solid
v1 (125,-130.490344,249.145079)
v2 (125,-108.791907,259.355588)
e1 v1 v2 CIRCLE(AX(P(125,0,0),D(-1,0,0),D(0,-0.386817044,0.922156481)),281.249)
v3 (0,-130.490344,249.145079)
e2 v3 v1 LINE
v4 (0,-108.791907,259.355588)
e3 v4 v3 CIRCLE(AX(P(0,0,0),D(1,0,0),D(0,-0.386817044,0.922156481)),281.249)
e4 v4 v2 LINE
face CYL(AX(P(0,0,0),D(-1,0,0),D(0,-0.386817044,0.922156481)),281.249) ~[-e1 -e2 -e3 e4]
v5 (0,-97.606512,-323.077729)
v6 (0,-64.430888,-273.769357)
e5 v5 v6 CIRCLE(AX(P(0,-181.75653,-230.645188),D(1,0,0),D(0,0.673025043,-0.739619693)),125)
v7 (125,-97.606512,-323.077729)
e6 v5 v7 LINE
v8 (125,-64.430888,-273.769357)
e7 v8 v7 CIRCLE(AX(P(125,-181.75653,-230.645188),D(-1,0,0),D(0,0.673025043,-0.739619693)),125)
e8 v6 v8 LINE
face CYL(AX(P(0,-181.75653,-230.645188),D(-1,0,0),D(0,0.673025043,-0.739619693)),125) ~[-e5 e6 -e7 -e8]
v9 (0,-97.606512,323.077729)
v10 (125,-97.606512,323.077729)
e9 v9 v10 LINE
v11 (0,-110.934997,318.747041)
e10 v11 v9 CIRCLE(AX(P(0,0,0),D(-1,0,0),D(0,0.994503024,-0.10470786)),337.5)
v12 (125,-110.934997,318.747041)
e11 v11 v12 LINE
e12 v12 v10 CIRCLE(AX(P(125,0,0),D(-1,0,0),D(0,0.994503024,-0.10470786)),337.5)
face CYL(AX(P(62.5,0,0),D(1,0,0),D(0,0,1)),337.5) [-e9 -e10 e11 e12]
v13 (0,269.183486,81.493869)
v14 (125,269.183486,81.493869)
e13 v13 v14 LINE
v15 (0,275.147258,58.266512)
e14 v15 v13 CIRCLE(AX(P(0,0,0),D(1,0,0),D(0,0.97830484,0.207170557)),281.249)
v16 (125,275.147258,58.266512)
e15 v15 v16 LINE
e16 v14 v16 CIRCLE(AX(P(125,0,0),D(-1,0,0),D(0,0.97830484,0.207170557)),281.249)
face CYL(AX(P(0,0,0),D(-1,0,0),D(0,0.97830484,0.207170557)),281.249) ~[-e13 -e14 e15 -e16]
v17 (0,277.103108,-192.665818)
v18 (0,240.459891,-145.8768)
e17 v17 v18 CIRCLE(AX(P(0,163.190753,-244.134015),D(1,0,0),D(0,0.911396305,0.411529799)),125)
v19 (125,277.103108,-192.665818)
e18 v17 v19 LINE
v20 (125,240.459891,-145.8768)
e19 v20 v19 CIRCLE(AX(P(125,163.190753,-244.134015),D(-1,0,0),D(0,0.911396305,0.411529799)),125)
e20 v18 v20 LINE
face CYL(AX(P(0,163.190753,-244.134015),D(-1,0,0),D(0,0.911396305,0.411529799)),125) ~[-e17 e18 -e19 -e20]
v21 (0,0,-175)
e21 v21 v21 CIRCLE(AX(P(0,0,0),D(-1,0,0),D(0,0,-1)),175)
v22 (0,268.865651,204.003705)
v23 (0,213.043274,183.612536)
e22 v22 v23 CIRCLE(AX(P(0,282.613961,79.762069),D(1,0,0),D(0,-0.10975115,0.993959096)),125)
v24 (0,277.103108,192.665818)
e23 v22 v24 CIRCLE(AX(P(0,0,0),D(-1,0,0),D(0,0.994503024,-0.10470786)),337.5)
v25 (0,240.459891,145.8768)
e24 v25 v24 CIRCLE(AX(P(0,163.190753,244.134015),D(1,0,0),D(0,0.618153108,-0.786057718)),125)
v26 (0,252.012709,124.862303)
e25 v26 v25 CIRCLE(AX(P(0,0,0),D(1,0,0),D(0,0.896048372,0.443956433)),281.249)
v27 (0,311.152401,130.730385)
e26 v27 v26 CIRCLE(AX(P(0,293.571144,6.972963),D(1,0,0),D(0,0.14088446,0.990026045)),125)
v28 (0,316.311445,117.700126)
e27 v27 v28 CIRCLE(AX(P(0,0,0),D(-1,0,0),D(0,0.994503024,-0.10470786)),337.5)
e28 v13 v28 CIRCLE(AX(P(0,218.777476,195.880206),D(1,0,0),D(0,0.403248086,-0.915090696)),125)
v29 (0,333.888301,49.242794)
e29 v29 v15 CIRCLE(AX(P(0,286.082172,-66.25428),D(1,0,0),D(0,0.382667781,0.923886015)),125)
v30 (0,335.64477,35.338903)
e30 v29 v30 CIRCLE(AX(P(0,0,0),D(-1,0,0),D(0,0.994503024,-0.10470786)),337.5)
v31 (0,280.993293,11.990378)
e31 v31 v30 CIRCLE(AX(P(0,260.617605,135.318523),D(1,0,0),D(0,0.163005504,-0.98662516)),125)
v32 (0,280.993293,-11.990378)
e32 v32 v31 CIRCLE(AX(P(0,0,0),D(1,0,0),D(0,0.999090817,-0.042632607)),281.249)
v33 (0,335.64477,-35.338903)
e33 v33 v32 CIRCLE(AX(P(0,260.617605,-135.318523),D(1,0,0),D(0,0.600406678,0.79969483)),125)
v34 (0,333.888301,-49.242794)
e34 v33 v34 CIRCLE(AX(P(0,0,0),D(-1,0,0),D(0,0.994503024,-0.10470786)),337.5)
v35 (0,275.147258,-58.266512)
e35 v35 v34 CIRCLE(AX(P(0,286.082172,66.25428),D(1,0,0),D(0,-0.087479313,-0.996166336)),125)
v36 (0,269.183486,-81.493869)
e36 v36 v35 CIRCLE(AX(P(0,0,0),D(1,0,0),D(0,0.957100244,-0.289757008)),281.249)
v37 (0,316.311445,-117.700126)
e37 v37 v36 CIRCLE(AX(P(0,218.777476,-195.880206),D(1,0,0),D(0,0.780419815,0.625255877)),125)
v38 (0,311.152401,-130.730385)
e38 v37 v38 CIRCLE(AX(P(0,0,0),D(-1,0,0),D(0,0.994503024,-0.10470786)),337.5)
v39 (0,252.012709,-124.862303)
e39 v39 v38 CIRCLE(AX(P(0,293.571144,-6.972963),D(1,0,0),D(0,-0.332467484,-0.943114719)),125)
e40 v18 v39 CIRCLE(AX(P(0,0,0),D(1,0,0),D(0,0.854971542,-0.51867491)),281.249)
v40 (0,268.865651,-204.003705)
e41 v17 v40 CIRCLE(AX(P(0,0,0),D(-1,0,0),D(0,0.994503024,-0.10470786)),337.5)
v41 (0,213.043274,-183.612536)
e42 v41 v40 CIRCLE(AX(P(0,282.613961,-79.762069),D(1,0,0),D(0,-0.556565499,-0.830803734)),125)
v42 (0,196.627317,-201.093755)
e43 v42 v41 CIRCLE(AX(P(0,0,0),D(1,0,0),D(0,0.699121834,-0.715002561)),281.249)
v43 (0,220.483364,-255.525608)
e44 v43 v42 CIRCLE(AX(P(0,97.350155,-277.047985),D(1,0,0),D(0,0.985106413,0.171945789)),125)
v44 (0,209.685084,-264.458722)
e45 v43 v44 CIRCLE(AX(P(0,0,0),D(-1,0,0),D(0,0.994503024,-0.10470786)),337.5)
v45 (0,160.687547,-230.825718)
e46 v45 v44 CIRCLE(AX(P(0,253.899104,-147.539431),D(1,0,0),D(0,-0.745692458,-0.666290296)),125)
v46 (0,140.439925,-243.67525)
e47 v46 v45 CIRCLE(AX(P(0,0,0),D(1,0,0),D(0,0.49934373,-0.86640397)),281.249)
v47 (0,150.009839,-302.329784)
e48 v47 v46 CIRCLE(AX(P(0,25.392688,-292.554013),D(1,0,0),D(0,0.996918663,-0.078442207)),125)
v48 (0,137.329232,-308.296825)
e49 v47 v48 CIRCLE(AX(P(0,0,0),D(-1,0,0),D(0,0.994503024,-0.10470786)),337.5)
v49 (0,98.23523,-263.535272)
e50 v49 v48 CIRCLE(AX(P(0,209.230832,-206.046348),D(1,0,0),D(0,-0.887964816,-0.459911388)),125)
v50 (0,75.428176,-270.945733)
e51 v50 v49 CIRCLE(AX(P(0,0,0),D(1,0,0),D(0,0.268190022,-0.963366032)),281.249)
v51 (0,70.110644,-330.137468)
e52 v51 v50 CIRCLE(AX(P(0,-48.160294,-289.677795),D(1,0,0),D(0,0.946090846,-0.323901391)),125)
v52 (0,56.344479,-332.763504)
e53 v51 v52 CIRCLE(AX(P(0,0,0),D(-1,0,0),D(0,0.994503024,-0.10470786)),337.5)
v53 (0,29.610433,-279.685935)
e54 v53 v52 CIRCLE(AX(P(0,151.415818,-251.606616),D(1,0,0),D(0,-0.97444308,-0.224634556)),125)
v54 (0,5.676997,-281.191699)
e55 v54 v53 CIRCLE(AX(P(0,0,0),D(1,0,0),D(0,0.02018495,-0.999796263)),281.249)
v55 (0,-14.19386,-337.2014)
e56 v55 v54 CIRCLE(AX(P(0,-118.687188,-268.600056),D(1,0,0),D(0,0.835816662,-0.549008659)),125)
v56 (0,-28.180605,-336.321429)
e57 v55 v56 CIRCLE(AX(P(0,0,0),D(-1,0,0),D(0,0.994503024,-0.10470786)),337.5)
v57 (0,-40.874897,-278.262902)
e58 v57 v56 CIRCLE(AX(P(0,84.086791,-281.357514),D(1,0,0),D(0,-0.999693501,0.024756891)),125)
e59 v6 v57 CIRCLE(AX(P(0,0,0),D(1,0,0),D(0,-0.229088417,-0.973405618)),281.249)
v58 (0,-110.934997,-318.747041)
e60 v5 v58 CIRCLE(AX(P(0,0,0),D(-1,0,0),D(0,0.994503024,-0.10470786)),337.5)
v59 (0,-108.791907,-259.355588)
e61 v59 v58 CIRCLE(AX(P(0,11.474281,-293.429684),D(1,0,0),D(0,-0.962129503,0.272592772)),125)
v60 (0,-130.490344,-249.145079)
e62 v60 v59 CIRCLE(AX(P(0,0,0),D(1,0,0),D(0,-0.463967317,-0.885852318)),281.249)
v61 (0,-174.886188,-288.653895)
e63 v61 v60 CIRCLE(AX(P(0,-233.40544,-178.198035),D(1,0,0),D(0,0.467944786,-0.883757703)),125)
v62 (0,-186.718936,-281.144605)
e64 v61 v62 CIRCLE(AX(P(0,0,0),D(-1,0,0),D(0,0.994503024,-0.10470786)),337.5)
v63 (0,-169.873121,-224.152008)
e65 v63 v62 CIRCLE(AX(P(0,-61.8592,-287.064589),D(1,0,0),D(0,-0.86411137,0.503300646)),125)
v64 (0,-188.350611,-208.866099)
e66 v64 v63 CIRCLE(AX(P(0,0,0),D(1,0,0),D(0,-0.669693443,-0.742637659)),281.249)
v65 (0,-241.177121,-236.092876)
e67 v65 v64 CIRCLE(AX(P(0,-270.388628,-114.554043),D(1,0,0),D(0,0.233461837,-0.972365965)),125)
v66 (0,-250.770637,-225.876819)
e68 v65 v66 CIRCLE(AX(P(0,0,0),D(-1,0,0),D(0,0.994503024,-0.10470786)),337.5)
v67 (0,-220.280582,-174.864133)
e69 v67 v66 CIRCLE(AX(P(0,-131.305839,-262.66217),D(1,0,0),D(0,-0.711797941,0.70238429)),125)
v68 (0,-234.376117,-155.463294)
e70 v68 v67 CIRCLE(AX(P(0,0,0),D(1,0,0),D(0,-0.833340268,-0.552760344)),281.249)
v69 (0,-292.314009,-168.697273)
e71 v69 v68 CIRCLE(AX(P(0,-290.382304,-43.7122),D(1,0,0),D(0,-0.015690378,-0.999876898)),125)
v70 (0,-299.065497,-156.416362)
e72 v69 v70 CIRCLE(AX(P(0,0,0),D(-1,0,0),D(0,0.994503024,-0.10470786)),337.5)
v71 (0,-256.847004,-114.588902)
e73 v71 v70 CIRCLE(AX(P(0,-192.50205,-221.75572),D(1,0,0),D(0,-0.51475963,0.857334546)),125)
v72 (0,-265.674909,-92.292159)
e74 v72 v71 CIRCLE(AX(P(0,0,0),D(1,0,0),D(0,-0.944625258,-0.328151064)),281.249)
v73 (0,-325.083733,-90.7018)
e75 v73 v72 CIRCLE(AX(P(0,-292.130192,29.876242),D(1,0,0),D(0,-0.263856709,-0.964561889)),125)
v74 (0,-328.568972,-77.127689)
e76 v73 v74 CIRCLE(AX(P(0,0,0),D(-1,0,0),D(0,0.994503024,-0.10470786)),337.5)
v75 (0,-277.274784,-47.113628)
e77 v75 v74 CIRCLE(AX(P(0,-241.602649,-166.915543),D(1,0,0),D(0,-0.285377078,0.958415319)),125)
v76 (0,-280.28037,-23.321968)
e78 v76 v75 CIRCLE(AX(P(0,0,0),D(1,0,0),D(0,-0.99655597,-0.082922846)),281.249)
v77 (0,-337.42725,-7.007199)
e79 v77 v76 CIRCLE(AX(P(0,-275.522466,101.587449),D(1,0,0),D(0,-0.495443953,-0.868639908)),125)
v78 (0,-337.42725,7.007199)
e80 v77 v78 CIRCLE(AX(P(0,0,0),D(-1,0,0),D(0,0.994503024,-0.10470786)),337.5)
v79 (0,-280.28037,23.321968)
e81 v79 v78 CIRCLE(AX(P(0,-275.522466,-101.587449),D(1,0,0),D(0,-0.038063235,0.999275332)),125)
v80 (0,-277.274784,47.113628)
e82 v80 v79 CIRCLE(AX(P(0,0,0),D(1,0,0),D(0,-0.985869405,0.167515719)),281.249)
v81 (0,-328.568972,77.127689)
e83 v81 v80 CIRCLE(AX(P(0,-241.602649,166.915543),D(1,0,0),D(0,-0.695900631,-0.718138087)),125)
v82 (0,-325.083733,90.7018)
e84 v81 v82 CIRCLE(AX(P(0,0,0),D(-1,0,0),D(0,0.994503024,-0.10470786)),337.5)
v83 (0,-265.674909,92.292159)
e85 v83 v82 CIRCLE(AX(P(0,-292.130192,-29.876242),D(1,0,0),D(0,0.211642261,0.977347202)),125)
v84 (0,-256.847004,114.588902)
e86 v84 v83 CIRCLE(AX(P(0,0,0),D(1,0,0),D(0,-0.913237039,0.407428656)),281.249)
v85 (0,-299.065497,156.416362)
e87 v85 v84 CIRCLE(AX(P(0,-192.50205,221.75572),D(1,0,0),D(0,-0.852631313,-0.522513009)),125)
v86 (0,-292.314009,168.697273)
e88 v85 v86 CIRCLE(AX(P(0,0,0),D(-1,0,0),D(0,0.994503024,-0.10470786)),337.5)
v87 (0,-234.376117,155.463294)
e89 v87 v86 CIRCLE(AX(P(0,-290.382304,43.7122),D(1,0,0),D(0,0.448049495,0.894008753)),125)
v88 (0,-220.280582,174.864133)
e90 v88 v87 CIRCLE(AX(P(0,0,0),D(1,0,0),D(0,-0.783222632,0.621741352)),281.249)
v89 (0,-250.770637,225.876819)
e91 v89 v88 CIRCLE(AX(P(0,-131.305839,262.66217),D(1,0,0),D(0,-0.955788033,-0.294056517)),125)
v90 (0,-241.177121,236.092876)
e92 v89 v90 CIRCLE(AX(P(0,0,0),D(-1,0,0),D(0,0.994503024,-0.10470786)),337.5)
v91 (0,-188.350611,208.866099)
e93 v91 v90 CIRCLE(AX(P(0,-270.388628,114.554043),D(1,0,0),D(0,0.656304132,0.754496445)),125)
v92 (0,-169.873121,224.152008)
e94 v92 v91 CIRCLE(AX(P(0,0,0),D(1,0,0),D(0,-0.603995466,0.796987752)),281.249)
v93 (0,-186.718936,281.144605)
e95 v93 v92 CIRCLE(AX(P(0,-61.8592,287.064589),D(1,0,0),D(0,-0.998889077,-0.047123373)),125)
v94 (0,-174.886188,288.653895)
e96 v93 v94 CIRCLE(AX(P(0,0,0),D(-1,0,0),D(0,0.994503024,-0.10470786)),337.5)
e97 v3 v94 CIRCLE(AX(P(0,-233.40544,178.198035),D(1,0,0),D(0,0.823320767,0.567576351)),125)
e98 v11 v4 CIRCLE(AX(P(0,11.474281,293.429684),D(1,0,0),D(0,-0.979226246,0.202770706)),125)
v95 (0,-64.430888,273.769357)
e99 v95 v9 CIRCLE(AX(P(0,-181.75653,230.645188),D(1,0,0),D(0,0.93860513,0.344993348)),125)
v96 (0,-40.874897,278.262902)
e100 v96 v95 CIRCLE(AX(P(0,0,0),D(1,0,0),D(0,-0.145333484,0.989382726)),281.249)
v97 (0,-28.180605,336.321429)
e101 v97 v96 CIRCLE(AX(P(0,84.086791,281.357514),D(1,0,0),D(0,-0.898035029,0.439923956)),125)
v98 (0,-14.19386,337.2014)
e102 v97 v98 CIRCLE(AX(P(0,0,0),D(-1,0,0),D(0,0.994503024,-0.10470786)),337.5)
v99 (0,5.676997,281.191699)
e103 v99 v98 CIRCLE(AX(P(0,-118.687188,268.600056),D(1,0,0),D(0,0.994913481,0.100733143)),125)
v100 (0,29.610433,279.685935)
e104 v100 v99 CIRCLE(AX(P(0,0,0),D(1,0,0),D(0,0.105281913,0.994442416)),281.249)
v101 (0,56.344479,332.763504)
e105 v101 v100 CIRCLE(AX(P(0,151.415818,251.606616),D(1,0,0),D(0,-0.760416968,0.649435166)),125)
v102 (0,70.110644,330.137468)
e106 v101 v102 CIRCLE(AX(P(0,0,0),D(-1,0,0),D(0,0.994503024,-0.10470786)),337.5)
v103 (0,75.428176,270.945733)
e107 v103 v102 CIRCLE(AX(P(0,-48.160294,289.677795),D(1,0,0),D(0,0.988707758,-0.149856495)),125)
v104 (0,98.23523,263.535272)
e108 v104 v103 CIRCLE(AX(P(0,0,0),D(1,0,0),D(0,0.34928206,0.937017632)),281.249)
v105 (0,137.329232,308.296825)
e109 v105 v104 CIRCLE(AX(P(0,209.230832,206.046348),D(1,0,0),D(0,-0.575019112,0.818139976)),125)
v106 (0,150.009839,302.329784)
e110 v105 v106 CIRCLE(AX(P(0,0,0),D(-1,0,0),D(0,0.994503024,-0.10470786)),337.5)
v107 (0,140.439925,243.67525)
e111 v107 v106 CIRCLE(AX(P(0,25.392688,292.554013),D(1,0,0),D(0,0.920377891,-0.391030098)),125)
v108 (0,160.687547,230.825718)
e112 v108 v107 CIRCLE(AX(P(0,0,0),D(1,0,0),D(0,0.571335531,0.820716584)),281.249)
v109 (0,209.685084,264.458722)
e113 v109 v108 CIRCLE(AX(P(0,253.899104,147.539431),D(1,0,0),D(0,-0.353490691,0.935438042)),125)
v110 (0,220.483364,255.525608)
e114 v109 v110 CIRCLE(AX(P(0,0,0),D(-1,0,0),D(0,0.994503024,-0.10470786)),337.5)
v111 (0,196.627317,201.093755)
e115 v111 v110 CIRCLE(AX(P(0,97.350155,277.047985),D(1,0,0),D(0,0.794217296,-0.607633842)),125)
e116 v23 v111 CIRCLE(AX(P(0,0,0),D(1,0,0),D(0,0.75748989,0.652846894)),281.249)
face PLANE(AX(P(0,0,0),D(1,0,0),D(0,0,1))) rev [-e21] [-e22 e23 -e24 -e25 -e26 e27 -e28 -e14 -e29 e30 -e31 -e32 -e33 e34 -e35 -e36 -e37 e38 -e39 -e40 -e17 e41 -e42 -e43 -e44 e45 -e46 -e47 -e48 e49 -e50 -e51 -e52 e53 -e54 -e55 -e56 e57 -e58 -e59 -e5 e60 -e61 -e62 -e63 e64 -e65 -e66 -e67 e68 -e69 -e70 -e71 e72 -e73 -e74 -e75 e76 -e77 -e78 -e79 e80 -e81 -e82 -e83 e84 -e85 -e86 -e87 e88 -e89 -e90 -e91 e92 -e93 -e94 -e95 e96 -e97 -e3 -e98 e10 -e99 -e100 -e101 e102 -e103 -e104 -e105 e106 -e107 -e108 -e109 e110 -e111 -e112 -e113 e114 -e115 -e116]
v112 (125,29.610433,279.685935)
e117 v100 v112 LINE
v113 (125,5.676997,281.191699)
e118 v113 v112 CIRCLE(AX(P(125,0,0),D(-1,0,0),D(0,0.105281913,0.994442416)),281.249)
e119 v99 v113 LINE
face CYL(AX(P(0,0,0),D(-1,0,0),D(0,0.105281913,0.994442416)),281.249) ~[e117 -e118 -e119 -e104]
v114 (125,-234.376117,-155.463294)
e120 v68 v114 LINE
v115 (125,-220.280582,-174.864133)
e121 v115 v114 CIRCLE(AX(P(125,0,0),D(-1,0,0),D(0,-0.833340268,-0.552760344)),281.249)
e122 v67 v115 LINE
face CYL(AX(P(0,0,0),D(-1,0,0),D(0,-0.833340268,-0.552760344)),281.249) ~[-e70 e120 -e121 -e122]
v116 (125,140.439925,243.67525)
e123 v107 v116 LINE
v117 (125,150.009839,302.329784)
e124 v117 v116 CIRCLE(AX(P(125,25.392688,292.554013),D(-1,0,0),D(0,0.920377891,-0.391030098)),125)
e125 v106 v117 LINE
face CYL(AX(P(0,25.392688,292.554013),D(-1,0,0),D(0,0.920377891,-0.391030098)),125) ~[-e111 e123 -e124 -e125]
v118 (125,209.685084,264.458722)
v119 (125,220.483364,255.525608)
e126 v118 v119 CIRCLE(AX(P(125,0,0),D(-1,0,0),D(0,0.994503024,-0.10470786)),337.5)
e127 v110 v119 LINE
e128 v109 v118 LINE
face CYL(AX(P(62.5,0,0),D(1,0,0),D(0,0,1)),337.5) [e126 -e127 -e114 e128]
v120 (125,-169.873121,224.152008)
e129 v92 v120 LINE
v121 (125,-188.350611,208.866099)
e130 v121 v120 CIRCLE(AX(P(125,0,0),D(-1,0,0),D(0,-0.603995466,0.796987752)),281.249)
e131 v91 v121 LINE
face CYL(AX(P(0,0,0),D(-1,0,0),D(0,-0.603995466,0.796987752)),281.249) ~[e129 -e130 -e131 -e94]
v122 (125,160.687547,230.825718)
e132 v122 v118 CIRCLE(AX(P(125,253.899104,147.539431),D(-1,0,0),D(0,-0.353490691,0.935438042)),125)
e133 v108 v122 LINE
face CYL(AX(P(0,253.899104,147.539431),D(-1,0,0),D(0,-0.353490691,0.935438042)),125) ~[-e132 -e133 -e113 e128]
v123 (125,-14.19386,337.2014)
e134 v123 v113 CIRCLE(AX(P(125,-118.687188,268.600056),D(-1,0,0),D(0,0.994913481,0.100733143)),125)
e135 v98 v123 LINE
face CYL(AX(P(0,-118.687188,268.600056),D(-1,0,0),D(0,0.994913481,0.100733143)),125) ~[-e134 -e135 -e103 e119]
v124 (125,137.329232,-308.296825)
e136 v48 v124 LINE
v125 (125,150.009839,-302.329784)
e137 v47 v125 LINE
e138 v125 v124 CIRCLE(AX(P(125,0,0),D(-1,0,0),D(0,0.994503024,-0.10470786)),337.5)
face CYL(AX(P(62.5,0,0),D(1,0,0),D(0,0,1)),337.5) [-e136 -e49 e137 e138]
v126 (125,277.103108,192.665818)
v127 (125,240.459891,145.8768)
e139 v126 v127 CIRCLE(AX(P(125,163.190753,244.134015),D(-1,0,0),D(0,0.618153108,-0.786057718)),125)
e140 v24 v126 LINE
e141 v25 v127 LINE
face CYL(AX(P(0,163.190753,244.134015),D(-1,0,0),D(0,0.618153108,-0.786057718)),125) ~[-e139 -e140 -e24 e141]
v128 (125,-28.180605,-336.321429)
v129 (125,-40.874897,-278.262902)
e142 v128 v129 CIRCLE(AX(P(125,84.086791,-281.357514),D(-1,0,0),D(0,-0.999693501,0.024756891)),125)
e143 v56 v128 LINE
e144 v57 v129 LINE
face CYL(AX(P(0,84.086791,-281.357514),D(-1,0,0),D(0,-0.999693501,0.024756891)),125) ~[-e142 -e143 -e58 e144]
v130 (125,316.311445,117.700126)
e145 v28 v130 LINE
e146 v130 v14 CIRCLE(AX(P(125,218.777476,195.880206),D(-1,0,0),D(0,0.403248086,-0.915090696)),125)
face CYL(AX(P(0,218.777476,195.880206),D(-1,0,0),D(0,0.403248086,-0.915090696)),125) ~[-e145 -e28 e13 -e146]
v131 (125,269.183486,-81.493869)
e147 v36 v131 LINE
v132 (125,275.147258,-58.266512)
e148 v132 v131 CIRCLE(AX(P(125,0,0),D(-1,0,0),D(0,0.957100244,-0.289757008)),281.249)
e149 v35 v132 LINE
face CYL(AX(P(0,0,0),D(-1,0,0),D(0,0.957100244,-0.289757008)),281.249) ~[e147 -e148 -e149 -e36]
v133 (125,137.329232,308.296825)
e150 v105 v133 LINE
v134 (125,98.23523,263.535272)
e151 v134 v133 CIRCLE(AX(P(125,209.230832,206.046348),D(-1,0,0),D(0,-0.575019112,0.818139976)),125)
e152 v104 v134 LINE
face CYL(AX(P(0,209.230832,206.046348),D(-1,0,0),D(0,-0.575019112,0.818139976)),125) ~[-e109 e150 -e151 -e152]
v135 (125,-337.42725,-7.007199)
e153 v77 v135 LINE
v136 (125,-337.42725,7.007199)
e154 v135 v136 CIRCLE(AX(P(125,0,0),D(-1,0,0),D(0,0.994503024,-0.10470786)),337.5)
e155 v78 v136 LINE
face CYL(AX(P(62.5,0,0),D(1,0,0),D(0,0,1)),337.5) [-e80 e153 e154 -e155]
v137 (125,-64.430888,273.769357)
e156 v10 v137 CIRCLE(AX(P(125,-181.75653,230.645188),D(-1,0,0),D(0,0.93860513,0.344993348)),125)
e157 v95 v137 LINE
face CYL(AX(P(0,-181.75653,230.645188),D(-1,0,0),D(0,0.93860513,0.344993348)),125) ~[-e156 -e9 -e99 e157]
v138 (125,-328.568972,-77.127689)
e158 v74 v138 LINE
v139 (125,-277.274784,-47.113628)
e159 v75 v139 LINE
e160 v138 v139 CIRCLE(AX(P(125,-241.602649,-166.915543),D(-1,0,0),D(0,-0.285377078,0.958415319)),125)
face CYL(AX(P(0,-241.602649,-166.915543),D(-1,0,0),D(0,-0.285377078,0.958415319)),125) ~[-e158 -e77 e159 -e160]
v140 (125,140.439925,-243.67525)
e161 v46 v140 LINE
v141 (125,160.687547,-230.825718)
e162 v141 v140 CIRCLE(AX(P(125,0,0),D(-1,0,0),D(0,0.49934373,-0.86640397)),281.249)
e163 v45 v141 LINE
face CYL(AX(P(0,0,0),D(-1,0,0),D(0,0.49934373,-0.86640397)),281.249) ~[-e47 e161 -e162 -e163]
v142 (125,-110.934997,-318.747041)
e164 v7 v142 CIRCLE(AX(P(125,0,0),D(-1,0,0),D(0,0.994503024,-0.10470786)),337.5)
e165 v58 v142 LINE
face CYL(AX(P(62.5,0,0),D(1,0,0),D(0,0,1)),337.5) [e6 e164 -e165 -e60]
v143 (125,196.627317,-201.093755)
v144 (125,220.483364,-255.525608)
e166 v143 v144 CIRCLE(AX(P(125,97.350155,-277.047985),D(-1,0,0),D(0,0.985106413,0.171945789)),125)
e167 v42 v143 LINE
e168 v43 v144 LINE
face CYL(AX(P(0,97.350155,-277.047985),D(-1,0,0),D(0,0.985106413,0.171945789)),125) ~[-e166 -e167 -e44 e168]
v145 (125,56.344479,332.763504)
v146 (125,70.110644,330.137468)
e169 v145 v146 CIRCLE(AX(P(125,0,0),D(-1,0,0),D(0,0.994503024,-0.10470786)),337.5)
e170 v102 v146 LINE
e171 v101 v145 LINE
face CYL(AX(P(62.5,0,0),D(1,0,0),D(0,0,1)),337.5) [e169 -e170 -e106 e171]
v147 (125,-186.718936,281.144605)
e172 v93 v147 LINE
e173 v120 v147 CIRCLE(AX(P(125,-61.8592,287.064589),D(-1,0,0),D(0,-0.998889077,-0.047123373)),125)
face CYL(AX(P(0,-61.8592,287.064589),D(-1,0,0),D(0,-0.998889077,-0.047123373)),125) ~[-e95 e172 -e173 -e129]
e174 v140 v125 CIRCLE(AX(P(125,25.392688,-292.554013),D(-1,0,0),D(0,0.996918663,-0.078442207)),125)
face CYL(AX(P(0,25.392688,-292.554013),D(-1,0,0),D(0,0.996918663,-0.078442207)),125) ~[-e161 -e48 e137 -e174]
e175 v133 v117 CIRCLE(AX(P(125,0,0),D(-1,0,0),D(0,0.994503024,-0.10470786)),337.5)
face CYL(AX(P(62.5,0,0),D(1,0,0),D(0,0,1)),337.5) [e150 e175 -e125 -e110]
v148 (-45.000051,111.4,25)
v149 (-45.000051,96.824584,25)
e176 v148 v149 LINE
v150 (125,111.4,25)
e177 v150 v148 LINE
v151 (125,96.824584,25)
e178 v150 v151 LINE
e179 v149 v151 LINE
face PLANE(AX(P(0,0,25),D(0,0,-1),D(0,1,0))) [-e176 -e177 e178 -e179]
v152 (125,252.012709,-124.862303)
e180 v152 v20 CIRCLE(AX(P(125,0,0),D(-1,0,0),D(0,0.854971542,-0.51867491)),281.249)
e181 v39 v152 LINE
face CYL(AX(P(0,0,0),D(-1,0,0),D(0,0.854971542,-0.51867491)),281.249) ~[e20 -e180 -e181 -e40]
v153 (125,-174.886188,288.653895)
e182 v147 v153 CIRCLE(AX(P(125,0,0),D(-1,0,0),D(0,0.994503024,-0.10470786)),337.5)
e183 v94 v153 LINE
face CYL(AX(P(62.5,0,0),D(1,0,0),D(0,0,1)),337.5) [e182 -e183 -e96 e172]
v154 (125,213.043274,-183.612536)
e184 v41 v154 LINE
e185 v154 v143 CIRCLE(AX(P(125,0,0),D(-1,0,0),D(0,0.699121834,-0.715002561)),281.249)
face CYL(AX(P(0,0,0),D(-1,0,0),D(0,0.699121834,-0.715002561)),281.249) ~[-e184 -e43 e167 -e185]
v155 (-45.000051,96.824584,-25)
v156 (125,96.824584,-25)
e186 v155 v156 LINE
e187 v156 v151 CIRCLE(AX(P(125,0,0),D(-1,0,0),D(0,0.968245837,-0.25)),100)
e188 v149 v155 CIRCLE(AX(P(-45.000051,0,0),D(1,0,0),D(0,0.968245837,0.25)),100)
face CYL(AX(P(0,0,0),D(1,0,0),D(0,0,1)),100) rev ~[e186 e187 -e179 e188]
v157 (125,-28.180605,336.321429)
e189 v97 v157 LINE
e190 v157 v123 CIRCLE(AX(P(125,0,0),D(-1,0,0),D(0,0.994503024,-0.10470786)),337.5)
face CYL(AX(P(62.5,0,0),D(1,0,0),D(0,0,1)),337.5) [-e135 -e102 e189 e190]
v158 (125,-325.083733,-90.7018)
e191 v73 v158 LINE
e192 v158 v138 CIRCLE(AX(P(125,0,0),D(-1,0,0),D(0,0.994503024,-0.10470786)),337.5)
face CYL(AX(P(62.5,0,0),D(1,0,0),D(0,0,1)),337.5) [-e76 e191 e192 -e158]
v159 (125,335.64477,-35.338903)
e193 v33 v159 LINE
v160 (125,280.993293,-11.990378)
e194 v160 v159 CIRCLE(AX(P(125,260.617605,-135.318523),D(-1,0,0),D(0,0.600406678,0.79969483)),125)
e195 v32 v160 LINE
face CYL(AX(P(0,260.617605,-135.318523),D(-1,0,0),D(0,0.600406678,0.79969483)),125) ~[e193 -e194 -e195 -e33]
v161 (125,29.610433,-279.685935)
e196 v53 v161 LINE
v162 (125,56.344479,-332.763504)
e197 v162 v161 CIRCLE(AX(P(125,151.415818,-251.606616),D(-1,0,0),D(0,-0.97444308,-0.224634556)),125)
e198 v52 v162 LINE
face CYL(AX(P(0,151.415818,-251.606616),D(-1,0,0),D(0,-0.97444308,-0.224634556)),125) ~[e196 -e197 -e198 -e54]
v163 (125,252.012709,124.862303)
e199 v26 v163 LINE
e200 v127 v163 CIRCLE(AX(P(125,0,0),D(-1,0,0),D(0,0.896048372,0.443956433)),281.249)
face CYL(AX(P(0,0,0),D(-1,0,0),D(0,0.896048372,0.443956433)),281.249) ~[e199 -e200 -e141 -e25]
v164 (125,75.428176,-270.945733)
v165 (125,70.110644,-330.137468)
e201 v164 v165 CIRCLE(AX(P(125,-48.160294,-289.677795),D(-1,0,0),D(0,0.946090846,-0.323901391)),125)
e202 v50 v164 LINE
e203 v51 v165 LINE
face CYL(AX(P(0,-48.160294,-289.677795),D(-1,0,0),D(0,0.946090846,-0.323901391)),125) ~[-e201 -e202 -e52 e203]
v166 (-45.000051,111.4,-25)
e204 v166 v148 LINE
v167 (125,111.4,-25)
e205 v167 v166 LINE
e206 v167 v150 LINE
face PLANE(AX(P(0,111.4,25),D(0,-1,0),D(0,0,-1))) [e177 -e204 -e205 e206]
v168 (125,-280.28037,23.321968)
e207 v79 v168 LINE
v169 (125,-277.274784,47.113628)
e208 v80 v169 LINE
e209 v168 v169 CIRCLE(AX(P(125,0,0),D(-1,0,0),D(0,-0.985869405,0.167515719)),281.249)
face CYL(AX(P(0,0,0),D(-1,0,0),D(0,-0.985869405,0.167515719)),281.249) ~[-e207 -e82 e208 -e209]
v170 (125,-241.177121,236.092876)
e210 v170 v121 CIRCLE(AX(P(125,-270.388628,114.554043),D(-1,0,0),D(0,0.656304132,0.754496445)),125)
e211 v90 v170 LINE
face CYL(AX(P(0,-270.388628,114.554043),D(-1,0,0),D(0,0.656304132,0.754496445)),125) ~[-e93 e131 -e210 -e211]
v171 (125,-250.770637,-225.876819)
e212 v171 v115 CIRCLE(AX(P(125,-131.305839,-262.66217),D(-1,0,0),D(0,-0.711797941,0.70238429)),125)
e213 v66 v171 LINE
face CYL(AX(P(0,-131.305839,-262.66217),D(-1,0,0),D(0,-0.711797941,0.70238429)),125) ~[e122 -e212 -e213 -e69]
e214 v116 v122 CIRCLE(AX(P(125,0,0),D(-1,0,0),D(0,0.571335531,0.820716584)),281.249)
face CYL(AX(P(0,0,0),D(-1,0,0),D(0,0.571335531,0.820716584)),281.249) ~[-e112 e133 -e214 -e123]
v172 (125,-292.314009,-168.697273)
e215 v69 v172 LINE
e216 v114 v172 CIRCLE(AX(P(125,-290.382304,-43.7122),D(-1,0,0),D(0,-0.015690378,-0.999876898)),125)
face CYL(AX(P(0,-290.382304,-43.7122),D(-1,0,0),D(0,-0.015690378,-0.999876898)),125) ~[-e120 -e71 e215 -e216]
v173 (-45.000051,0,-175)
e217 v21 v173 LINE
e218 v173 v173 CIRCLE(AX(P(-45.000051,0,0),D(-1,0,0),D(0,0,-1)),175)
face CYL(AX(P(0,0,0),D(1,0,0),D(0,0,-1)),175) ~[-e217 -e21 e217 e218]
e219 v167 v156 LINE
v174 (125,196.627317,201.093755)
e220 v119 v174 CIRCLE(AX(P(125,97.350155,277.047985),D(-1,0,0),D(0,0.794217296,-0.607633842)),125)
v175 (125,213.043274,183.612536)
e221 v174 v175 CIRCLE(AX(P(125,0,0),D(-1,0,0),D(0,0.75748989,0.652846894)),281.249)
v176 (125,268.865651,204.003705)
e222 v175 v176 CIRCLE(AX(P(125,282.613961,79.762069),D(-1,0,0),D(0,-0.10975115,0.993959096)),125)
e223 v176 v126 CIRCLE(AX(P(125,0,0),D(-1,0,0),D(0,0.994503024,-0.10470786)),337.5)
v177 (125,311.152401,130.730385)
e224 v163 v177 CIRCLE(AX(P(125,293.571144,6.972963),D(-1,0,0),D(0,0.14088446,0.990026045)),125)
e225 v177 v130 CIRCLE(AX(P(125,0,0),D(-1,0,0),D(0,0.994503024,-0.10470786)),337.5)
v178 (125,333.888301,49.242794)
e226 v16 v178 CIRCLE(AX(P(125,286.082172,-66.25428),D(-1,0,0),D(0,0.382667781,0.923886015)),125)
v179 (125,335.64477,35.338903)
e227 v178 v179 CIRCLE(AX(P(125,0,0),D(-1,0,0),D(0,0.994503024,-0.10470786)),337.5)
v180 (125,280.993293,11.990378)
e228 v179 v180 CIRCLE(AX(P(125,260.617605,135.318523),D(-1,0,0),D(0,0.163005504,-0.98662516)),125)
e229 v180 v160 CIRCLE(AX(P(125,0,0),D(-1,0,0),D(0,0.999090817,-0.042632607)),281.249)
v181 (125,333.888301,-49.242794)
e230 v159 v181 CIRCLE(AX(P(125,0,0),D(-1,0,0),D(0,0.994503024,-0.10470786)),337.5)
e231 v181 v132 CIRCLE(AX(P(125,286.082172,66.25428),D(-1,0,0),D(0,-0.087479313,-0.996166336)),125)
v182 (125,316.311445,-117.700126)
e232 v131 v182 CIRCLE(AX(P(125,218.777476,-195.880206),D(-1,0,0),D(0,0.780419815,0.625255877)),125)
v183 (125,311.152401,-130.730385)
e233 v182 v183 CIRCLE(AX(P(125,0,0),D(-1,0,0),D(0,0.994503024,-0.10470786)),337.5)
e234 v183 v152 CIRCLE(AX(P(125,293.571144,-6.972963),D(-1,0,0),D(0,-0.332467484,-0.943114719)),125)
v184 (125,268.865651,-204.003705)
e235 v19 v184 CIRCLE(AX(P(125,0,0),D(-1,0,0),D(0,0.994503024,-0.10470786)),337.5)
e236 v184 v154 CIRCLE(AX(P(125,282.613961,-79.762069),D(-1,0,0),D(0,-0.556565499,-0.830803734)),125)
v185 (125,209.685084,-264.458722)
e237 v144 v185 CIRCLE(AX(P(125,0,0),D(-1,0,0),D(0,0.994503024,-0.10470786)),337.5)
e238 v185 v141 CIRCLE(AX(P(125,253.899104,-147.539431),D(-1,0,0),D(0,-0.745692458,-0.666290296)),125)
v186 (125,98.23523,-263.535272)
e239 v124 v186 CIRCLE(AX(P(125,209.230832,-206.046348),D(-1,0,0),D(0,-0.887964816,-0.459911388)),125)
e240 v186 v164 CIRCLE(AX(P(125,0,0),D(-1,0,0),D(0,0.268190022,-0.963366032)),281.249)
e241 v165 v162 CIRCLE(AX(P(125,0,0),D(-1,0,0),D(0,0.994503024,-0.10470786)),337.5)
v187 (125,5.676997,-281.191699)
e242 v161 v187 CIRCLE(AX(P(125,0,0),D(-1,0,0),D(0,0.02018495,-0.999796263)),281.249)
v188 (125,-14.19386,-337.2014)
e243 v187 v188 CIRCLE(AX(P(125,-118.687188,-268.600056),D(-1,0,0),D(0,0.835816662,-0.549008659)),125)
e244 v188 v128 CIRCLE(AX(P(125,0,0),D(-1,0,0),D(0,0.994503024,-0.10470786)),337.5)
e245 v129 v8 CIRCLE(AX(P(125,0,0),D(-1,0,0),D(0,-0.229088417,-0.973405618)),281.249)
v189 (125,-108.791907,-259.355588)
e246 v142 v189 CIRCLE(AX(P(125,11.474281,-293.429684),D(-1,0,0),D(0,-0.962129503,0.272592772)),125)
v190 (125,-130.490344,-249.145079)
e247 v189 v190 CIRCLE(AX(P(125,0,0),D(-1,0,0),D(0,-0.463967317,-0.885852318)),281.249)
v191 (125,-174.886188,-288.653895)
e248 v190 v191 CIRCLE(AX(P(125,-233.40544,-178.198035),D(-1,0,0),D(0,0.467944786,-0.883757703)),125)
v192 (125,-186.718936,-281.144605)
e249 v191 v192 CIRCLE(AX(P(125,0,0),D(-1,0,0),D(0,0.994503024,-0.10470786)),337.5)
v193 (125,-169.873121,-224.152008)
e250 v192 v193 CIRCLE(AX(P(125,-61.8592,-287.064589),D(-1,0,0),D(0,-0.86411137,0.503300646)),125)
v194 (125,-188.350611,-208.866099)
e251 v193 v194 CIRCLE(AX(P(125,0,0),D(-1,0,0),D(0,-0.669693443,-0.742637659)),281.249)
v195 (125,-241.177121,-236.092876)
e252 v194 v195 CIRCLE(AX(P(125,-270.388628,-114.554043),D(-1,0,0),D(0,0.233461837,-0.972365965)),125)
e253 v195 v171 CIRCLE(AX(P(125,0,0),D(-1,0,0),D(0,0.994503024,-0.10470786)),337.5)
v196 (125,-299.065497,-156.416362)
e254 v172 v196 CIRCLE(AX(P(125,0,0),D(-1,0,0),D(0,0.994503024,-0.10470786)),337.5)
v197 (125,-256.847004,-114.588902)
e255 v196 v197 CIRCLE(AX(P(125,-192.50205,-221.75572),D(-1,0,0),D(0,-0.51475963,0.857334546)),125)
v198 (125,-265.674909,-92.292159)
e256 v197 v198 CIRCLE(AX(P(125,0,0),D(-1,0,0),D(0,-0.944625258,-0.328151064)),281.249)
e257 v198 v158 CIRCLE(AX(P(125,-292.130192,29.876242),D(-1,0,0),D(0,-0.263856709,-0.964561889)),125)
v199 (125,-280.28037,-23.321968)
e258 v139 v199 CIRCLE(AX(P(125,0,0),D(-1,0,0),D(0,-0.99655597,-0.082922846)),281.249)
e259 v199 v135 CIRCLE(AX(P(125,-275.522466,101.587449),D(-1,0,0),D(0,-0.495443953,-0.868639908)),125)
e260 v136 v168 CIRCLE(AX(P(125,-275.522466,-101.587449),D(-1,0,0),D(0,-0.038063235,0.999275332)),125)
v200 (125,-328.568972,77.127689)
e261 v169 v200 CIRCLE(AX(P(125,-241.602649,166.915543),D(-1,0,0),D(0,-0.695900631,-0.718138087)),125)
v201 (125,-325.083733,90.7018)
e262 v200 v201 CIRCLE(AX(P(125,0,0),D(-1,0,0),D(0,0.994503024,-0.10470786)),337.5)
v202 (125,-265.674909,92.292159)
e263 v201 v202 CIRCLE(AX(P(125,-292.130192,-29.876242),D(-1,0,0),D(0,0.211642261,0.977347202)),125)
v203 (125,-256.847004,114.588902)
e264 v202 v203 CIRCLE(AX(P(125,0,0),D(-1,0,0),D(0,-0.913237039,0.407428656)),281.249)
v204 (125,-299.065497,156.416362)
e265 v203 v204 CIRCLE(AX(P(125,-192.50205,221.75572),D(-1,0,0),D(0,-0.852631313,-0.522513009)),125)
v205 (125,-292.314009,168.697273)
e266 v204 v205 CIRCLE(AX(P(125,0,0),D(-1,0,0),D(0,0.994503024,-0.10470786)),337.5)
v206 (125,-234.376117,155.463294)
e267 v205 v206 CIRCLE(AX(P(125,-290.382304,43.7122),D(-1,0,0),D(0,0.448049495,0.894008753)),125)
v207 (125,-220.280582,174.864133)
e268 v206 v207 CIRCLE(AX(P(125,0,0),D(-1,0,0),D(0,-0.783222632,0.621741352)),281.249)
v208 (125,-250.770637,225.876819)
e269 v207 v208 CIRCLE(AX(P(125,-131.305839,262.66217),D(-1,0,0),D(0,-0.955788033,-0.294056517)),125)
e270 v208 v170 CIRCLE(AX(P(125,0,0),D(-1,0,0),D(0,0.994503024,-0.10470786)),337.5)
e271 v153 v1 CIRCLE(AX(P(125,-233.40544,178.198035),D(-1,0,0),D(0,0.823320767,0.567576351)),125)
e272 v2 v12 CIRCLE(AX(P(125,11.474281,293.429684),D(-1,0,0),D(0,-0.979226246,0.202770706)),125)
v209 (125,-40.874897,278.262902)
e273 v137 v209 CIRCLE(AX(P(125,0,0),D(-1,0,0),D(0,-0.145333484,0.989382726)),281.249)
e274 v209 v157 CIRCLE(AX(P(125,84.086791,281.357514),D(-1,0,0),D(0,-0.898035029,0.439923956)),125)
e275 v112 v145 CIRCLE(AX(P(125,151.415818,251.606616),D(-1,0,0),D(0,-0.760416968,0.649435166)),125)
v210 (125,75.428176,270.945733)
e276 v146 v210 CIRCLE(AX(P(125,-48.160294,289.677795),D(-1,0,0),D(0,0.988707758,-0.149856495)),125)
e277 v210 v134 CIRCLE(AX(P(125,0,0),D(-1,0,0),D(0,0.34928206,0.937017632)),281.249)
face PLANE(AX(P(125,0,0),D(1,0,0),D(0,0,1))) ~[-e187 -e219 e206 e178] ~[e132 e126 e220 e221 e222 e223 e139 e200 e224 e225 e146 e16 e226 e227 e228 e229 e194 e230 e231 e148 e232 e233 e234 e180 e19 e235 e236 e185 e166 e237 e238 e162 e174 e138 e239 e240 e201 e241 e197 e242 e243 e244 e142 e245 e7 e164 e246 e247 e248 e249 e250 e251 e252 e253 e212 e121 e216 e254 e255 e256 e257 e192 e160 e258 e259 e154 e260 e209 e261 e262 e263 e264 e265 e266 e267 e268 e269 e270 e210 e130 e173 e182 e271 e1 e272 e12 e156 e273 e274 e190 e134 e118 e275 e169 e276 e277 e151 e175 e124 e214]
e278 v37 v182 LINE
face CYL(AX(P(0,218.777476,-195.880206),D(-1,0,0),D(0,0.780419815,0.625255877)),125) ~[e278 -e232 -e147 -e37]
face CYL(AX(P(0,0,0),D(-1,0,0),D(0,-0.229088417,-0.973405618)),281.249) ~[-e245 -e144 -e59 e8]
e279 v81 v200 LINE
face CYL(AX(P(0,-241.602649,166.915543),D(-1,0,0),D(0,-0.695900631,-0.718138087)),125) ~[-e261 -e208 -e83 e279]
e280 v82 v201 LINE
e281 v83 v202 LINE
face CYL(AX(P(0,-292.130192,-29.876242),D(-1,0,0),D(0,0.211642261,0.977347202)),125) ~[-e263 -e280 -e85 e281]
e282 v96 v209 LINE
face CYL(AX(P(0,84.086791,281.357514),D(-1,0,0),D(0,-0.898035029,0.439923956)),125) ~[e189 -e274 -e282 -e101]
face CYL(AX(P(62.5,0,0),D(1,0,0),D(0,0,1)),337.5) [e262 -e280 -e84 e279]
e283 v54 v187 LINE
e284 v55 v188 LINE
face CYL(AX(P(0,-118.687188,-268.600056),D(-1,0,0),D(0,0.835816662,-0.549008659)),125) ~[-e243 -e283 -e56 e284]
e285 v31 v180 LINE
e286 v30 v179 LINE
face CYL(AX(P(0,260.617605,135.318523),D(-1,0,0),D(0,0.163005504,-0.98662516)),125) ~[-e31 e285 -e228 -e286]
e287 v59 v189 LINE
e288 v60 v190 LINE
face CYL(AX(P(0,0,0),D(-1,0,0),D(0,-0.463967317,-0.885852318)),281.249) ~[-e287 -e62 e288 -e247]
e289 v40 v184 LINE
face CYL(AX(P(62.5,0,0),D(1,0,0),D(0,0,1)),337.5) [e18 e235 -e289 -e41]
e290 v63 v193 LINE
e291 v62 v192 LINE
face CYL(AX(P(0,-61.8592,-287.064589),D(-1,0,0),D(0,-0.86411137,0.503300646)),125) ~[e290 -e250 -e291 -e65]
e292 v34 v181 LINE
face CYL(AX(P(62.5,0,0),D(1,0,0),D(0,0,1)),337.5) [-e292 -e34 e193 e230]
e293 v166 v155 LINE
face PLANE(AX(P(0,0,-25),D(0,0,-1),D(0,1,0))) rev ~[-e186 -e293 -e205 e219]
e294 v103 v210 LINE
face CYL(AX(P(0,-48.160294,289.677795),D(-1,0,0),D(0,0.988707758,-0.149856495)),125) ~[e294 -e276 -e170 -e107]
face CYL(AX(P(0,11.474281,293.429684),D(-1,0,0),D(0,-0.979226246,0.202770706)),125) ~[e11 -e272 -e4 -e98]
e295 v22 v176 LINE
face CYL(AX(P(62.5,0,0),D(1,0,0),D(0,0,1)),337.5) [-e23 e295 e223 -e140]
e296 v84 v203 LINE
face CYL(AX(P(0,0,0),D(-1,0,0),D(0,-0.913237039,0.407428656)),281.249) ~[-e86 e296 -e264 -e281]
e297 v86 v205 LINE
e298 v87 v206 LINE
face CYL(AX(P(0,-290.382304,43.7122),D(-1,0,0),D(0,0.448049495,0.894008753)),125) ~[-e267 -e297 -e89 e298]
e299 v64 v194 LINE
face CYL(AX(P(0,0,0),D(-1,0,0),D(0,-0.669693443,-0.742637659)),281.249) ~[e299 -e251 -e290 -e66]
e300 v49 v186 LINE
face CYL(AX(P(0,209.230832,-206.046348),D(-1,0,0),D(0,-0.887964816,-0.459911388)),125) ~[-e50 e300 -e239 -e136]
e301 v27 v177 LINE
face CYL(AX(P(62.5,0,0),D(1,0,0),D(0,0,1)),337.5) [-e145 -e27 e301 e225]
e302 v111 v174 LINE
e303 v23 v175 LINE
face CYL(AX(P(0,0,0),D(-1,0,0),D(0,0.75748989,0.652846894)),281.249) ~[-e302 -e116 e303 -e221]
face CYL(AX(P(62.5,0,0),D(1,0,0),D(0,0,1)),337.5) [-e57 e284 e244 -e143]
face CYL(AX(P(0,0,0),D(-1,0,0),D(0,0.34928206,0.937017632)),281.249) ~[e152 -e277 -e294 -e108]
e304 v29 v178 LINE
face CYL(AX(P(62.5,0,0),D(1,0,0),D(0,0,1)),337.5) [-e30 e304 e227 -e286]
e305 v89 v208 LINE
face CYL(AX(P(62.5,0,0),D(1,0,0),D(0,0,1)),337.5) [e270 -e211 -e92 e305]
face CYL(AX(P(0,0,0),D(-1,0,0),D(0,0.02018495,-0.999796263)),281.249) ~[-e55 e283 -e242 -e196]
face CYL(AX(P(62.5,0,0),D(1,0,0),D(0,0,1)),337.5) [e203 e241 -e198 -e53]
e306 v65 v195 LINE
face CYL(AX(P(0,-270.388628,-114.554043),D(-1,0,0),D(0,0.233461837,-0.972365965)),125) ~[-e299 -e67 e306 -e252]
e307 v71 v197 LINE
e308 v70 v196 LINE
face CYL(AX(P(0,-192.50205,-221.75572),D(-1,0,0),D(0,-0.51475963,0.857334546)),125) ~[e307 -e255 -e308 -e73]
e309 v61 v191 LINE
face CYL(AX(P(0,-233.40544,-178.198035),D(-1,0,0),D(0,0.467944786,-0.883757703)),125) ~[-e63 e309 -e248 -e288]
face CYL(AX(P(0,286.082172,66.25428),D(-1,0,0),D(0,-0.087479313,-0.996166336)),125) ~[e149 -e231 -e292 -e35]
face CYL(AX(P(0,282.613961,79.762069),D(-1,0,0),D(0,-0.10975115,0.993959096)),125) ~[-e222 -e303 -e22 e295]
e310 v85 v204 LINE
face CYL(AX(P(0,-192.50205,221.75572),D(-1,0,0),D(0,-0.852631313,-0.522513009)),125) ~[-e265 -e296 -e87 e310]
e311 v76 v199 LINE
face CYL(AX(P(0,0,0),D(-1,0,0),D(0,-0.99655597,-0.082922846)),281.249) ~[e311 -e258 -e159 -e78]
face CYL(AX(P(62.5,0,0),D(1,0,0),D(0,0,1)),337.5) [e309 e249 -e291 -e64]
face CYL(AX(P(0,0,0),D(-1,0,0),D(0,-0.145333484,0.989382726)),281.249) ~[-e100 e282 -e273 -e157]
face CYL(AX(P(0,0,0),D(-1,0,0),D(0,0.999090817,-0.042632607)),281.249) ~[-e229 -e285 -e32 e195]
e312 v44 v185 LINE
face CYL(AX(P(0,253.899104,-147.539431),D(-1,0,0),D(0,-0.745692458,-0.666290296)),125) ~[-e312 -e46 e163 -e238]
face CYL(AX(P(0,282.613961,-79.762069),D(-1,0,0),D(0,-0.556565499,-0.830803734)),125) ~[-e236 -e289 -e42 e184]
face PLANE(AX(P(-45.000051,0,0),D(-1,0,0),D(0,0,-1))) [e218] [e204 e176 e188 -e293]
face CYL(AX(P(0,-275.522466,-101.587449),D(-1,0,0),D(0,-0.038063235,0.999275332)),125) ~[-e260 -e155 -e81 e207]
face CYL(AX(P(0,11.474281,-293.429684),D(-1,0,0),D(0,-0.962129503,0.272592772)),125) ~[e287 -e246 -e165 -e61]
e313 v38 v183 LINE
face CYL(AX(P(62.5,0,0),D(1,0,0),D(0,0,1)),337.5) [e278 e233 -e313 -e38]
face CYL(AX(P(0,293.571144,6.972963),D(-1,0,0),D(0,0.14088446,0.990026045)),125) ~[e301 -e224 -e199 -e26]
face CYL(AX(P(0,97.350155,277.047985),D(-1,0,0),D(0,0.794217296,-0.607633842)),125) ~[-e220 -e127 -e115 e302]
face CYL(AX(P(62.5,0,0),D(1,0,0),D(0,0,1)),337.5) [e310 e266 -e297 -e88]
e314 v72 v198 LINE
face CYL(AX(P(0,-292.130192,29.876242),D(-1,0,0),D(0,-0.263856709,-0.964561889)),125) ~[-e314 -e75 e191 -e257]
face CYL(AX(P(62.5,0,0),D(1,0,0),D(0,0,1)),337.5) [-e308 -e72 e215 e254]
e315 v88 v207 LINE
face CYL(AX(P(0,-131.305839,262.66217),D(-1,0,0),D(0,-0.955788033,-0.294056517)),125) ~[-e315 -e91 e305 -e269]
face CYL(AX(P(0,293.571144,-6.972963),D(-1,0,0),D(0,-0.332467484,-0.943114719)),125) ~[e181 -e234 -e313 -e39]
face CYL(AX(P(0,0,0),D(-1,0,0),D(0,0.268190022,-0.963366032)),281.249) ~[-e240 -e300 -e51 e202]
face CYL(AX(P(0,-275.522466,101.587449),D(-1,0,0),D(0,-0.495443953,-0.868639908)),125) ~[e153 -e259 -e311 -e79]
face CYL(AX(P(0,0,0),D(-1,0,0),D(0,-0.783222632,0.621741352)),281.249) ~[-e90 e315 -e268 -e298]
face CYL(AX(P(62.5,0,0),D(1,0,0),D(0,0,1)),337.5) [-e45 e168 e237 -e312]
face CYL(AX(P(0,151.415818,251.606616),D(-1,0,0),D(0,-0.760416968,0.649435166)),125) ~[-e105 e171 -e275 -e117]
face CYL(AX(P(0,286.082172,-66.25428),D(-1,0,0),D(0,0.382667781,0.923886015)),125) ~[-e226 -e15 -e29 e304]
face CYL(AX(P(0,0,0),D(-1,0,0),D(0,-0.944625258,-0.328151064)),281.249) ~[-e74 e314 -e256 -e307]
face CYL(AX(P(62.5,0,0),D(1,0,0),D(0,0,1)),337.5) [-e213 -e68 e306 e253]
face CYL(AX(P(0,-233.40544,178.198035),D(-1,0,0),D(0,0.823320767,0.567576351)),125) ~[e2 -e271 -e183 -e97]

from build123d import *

# Parameters (mm, degrees)
BASPROSKE_W      = 125
BASPROSKE_H      = 337.5
TOOTHCUT_DEPTH   = 494.3938589
TEETHCUTS_COUNT  = 25
TEETHCUTS_ANGLE  = 345.6
HUBNEAONESKE_R   = 175
HUBNEARONE_DEPTH = 45.0000508
BORSKE_R         = 100
BORE_DEPTH       = 170.0000508
KEYSKE_W         = 50
KEYSKE_H         = 111.4
KEYWAY_DEPTH     = 170.0000508


with BuildPart() as part:
    # BasProSke → Base-Revolve (revolve)
    with BuildSketch(Plane(origin=(0, 0, 0), x_dir=(1, 0, 0), z_dir=(0, 1, 0)), mode=Mode.PRIVATE) as base_revolve_sk:
        with Locations((62.5, 168.75)):
            Rectangle(BASPROSKE_W, BASPROSKE_H)
    revolve(base_revolve_sk.sketch.rotate(Axis((-10, 0, 0), (1, 0, 0)), 180), axis=Axis((-10, 0, 0), (1, 0, 0)))

    # TooCutSke → ToothCut (cut, through all)
    with BuildSketch(Plane(origin=(0, 0, 0), x_dir=(0, 0, -1), z_dir=(1, 0, 0))):
        with BuildLine():
            ThreePointArc((11.990378159, 280.993293216), (0, 281.249), (-11.990378159, 280.993293216))
            ThreePointArc((-11.990378159, 280.993293216), (-20.375281475, 309.740422738), (-35.356669359, 335.668439948))
            ThreePointArc((-35.356669359, 335.668439948), (0, 337.5254), (35.356669359, 335.668439948))
            ThreePointArc((35.356669359, 335.668439948), (20.375281475, 309.740422738), (11.990378159, 280.993293216))
        make_face()
    toothcut = extrude(amount=TOOTHCUT_DEPTH, mode=Mode.SUBTRACT)

    # TeethCuts: ToothCut ×25 about axis
    teethcuts_axis = Axis((-10, 0, 0), (1, 0, 0))
    for i in range(1, TEETHCUTS_COUNT):
        add(toothcut.rotate(teethcuts_axis, i * TEETHCUTS_ANGLE / (TEETHCUTS_COUNT - 1)), mode=Mode.SUBTRACT)

    # HubNeaOneSke → HubNearOne (add)
    with BuildSketch(Plane.ZY):
        with Locations(Location((0, 0, 0), (0, 0, 180))):
            Circle(HUBNEAONESKE_R)
    extrude(amount=HUBNEARONE_DEPTH)

    # BorSke → Bore (cut, symmetric)
    with BuildSketch(Plane(origin=(0, 0, 0), x_dir=(0, 0, -1), z_dir=(1, 0, 0))):
        with Locations(Location((0, 0, 0), (0, 0, 180))):
            Circle(BORSKE_R)
    extrude(amount=BORE_DEPTH, both=True, mode=Mode.SUBTRACT)

    # KeySke → Keyway (cut, symmetric)
    with BuildSketch(Plane(origin=(0, 0, 0), x_dir=(0, 0, -1), z_dir=(1, 0, 0))):
        with Locations((0, 55.7)):
            Rectangle(KEYSKE_W, KEYSKE_H)
    extrude(amount=KEYWAY_DEPTH, both=True, mode=Mode.SUBTRACT)


solid = part.part
